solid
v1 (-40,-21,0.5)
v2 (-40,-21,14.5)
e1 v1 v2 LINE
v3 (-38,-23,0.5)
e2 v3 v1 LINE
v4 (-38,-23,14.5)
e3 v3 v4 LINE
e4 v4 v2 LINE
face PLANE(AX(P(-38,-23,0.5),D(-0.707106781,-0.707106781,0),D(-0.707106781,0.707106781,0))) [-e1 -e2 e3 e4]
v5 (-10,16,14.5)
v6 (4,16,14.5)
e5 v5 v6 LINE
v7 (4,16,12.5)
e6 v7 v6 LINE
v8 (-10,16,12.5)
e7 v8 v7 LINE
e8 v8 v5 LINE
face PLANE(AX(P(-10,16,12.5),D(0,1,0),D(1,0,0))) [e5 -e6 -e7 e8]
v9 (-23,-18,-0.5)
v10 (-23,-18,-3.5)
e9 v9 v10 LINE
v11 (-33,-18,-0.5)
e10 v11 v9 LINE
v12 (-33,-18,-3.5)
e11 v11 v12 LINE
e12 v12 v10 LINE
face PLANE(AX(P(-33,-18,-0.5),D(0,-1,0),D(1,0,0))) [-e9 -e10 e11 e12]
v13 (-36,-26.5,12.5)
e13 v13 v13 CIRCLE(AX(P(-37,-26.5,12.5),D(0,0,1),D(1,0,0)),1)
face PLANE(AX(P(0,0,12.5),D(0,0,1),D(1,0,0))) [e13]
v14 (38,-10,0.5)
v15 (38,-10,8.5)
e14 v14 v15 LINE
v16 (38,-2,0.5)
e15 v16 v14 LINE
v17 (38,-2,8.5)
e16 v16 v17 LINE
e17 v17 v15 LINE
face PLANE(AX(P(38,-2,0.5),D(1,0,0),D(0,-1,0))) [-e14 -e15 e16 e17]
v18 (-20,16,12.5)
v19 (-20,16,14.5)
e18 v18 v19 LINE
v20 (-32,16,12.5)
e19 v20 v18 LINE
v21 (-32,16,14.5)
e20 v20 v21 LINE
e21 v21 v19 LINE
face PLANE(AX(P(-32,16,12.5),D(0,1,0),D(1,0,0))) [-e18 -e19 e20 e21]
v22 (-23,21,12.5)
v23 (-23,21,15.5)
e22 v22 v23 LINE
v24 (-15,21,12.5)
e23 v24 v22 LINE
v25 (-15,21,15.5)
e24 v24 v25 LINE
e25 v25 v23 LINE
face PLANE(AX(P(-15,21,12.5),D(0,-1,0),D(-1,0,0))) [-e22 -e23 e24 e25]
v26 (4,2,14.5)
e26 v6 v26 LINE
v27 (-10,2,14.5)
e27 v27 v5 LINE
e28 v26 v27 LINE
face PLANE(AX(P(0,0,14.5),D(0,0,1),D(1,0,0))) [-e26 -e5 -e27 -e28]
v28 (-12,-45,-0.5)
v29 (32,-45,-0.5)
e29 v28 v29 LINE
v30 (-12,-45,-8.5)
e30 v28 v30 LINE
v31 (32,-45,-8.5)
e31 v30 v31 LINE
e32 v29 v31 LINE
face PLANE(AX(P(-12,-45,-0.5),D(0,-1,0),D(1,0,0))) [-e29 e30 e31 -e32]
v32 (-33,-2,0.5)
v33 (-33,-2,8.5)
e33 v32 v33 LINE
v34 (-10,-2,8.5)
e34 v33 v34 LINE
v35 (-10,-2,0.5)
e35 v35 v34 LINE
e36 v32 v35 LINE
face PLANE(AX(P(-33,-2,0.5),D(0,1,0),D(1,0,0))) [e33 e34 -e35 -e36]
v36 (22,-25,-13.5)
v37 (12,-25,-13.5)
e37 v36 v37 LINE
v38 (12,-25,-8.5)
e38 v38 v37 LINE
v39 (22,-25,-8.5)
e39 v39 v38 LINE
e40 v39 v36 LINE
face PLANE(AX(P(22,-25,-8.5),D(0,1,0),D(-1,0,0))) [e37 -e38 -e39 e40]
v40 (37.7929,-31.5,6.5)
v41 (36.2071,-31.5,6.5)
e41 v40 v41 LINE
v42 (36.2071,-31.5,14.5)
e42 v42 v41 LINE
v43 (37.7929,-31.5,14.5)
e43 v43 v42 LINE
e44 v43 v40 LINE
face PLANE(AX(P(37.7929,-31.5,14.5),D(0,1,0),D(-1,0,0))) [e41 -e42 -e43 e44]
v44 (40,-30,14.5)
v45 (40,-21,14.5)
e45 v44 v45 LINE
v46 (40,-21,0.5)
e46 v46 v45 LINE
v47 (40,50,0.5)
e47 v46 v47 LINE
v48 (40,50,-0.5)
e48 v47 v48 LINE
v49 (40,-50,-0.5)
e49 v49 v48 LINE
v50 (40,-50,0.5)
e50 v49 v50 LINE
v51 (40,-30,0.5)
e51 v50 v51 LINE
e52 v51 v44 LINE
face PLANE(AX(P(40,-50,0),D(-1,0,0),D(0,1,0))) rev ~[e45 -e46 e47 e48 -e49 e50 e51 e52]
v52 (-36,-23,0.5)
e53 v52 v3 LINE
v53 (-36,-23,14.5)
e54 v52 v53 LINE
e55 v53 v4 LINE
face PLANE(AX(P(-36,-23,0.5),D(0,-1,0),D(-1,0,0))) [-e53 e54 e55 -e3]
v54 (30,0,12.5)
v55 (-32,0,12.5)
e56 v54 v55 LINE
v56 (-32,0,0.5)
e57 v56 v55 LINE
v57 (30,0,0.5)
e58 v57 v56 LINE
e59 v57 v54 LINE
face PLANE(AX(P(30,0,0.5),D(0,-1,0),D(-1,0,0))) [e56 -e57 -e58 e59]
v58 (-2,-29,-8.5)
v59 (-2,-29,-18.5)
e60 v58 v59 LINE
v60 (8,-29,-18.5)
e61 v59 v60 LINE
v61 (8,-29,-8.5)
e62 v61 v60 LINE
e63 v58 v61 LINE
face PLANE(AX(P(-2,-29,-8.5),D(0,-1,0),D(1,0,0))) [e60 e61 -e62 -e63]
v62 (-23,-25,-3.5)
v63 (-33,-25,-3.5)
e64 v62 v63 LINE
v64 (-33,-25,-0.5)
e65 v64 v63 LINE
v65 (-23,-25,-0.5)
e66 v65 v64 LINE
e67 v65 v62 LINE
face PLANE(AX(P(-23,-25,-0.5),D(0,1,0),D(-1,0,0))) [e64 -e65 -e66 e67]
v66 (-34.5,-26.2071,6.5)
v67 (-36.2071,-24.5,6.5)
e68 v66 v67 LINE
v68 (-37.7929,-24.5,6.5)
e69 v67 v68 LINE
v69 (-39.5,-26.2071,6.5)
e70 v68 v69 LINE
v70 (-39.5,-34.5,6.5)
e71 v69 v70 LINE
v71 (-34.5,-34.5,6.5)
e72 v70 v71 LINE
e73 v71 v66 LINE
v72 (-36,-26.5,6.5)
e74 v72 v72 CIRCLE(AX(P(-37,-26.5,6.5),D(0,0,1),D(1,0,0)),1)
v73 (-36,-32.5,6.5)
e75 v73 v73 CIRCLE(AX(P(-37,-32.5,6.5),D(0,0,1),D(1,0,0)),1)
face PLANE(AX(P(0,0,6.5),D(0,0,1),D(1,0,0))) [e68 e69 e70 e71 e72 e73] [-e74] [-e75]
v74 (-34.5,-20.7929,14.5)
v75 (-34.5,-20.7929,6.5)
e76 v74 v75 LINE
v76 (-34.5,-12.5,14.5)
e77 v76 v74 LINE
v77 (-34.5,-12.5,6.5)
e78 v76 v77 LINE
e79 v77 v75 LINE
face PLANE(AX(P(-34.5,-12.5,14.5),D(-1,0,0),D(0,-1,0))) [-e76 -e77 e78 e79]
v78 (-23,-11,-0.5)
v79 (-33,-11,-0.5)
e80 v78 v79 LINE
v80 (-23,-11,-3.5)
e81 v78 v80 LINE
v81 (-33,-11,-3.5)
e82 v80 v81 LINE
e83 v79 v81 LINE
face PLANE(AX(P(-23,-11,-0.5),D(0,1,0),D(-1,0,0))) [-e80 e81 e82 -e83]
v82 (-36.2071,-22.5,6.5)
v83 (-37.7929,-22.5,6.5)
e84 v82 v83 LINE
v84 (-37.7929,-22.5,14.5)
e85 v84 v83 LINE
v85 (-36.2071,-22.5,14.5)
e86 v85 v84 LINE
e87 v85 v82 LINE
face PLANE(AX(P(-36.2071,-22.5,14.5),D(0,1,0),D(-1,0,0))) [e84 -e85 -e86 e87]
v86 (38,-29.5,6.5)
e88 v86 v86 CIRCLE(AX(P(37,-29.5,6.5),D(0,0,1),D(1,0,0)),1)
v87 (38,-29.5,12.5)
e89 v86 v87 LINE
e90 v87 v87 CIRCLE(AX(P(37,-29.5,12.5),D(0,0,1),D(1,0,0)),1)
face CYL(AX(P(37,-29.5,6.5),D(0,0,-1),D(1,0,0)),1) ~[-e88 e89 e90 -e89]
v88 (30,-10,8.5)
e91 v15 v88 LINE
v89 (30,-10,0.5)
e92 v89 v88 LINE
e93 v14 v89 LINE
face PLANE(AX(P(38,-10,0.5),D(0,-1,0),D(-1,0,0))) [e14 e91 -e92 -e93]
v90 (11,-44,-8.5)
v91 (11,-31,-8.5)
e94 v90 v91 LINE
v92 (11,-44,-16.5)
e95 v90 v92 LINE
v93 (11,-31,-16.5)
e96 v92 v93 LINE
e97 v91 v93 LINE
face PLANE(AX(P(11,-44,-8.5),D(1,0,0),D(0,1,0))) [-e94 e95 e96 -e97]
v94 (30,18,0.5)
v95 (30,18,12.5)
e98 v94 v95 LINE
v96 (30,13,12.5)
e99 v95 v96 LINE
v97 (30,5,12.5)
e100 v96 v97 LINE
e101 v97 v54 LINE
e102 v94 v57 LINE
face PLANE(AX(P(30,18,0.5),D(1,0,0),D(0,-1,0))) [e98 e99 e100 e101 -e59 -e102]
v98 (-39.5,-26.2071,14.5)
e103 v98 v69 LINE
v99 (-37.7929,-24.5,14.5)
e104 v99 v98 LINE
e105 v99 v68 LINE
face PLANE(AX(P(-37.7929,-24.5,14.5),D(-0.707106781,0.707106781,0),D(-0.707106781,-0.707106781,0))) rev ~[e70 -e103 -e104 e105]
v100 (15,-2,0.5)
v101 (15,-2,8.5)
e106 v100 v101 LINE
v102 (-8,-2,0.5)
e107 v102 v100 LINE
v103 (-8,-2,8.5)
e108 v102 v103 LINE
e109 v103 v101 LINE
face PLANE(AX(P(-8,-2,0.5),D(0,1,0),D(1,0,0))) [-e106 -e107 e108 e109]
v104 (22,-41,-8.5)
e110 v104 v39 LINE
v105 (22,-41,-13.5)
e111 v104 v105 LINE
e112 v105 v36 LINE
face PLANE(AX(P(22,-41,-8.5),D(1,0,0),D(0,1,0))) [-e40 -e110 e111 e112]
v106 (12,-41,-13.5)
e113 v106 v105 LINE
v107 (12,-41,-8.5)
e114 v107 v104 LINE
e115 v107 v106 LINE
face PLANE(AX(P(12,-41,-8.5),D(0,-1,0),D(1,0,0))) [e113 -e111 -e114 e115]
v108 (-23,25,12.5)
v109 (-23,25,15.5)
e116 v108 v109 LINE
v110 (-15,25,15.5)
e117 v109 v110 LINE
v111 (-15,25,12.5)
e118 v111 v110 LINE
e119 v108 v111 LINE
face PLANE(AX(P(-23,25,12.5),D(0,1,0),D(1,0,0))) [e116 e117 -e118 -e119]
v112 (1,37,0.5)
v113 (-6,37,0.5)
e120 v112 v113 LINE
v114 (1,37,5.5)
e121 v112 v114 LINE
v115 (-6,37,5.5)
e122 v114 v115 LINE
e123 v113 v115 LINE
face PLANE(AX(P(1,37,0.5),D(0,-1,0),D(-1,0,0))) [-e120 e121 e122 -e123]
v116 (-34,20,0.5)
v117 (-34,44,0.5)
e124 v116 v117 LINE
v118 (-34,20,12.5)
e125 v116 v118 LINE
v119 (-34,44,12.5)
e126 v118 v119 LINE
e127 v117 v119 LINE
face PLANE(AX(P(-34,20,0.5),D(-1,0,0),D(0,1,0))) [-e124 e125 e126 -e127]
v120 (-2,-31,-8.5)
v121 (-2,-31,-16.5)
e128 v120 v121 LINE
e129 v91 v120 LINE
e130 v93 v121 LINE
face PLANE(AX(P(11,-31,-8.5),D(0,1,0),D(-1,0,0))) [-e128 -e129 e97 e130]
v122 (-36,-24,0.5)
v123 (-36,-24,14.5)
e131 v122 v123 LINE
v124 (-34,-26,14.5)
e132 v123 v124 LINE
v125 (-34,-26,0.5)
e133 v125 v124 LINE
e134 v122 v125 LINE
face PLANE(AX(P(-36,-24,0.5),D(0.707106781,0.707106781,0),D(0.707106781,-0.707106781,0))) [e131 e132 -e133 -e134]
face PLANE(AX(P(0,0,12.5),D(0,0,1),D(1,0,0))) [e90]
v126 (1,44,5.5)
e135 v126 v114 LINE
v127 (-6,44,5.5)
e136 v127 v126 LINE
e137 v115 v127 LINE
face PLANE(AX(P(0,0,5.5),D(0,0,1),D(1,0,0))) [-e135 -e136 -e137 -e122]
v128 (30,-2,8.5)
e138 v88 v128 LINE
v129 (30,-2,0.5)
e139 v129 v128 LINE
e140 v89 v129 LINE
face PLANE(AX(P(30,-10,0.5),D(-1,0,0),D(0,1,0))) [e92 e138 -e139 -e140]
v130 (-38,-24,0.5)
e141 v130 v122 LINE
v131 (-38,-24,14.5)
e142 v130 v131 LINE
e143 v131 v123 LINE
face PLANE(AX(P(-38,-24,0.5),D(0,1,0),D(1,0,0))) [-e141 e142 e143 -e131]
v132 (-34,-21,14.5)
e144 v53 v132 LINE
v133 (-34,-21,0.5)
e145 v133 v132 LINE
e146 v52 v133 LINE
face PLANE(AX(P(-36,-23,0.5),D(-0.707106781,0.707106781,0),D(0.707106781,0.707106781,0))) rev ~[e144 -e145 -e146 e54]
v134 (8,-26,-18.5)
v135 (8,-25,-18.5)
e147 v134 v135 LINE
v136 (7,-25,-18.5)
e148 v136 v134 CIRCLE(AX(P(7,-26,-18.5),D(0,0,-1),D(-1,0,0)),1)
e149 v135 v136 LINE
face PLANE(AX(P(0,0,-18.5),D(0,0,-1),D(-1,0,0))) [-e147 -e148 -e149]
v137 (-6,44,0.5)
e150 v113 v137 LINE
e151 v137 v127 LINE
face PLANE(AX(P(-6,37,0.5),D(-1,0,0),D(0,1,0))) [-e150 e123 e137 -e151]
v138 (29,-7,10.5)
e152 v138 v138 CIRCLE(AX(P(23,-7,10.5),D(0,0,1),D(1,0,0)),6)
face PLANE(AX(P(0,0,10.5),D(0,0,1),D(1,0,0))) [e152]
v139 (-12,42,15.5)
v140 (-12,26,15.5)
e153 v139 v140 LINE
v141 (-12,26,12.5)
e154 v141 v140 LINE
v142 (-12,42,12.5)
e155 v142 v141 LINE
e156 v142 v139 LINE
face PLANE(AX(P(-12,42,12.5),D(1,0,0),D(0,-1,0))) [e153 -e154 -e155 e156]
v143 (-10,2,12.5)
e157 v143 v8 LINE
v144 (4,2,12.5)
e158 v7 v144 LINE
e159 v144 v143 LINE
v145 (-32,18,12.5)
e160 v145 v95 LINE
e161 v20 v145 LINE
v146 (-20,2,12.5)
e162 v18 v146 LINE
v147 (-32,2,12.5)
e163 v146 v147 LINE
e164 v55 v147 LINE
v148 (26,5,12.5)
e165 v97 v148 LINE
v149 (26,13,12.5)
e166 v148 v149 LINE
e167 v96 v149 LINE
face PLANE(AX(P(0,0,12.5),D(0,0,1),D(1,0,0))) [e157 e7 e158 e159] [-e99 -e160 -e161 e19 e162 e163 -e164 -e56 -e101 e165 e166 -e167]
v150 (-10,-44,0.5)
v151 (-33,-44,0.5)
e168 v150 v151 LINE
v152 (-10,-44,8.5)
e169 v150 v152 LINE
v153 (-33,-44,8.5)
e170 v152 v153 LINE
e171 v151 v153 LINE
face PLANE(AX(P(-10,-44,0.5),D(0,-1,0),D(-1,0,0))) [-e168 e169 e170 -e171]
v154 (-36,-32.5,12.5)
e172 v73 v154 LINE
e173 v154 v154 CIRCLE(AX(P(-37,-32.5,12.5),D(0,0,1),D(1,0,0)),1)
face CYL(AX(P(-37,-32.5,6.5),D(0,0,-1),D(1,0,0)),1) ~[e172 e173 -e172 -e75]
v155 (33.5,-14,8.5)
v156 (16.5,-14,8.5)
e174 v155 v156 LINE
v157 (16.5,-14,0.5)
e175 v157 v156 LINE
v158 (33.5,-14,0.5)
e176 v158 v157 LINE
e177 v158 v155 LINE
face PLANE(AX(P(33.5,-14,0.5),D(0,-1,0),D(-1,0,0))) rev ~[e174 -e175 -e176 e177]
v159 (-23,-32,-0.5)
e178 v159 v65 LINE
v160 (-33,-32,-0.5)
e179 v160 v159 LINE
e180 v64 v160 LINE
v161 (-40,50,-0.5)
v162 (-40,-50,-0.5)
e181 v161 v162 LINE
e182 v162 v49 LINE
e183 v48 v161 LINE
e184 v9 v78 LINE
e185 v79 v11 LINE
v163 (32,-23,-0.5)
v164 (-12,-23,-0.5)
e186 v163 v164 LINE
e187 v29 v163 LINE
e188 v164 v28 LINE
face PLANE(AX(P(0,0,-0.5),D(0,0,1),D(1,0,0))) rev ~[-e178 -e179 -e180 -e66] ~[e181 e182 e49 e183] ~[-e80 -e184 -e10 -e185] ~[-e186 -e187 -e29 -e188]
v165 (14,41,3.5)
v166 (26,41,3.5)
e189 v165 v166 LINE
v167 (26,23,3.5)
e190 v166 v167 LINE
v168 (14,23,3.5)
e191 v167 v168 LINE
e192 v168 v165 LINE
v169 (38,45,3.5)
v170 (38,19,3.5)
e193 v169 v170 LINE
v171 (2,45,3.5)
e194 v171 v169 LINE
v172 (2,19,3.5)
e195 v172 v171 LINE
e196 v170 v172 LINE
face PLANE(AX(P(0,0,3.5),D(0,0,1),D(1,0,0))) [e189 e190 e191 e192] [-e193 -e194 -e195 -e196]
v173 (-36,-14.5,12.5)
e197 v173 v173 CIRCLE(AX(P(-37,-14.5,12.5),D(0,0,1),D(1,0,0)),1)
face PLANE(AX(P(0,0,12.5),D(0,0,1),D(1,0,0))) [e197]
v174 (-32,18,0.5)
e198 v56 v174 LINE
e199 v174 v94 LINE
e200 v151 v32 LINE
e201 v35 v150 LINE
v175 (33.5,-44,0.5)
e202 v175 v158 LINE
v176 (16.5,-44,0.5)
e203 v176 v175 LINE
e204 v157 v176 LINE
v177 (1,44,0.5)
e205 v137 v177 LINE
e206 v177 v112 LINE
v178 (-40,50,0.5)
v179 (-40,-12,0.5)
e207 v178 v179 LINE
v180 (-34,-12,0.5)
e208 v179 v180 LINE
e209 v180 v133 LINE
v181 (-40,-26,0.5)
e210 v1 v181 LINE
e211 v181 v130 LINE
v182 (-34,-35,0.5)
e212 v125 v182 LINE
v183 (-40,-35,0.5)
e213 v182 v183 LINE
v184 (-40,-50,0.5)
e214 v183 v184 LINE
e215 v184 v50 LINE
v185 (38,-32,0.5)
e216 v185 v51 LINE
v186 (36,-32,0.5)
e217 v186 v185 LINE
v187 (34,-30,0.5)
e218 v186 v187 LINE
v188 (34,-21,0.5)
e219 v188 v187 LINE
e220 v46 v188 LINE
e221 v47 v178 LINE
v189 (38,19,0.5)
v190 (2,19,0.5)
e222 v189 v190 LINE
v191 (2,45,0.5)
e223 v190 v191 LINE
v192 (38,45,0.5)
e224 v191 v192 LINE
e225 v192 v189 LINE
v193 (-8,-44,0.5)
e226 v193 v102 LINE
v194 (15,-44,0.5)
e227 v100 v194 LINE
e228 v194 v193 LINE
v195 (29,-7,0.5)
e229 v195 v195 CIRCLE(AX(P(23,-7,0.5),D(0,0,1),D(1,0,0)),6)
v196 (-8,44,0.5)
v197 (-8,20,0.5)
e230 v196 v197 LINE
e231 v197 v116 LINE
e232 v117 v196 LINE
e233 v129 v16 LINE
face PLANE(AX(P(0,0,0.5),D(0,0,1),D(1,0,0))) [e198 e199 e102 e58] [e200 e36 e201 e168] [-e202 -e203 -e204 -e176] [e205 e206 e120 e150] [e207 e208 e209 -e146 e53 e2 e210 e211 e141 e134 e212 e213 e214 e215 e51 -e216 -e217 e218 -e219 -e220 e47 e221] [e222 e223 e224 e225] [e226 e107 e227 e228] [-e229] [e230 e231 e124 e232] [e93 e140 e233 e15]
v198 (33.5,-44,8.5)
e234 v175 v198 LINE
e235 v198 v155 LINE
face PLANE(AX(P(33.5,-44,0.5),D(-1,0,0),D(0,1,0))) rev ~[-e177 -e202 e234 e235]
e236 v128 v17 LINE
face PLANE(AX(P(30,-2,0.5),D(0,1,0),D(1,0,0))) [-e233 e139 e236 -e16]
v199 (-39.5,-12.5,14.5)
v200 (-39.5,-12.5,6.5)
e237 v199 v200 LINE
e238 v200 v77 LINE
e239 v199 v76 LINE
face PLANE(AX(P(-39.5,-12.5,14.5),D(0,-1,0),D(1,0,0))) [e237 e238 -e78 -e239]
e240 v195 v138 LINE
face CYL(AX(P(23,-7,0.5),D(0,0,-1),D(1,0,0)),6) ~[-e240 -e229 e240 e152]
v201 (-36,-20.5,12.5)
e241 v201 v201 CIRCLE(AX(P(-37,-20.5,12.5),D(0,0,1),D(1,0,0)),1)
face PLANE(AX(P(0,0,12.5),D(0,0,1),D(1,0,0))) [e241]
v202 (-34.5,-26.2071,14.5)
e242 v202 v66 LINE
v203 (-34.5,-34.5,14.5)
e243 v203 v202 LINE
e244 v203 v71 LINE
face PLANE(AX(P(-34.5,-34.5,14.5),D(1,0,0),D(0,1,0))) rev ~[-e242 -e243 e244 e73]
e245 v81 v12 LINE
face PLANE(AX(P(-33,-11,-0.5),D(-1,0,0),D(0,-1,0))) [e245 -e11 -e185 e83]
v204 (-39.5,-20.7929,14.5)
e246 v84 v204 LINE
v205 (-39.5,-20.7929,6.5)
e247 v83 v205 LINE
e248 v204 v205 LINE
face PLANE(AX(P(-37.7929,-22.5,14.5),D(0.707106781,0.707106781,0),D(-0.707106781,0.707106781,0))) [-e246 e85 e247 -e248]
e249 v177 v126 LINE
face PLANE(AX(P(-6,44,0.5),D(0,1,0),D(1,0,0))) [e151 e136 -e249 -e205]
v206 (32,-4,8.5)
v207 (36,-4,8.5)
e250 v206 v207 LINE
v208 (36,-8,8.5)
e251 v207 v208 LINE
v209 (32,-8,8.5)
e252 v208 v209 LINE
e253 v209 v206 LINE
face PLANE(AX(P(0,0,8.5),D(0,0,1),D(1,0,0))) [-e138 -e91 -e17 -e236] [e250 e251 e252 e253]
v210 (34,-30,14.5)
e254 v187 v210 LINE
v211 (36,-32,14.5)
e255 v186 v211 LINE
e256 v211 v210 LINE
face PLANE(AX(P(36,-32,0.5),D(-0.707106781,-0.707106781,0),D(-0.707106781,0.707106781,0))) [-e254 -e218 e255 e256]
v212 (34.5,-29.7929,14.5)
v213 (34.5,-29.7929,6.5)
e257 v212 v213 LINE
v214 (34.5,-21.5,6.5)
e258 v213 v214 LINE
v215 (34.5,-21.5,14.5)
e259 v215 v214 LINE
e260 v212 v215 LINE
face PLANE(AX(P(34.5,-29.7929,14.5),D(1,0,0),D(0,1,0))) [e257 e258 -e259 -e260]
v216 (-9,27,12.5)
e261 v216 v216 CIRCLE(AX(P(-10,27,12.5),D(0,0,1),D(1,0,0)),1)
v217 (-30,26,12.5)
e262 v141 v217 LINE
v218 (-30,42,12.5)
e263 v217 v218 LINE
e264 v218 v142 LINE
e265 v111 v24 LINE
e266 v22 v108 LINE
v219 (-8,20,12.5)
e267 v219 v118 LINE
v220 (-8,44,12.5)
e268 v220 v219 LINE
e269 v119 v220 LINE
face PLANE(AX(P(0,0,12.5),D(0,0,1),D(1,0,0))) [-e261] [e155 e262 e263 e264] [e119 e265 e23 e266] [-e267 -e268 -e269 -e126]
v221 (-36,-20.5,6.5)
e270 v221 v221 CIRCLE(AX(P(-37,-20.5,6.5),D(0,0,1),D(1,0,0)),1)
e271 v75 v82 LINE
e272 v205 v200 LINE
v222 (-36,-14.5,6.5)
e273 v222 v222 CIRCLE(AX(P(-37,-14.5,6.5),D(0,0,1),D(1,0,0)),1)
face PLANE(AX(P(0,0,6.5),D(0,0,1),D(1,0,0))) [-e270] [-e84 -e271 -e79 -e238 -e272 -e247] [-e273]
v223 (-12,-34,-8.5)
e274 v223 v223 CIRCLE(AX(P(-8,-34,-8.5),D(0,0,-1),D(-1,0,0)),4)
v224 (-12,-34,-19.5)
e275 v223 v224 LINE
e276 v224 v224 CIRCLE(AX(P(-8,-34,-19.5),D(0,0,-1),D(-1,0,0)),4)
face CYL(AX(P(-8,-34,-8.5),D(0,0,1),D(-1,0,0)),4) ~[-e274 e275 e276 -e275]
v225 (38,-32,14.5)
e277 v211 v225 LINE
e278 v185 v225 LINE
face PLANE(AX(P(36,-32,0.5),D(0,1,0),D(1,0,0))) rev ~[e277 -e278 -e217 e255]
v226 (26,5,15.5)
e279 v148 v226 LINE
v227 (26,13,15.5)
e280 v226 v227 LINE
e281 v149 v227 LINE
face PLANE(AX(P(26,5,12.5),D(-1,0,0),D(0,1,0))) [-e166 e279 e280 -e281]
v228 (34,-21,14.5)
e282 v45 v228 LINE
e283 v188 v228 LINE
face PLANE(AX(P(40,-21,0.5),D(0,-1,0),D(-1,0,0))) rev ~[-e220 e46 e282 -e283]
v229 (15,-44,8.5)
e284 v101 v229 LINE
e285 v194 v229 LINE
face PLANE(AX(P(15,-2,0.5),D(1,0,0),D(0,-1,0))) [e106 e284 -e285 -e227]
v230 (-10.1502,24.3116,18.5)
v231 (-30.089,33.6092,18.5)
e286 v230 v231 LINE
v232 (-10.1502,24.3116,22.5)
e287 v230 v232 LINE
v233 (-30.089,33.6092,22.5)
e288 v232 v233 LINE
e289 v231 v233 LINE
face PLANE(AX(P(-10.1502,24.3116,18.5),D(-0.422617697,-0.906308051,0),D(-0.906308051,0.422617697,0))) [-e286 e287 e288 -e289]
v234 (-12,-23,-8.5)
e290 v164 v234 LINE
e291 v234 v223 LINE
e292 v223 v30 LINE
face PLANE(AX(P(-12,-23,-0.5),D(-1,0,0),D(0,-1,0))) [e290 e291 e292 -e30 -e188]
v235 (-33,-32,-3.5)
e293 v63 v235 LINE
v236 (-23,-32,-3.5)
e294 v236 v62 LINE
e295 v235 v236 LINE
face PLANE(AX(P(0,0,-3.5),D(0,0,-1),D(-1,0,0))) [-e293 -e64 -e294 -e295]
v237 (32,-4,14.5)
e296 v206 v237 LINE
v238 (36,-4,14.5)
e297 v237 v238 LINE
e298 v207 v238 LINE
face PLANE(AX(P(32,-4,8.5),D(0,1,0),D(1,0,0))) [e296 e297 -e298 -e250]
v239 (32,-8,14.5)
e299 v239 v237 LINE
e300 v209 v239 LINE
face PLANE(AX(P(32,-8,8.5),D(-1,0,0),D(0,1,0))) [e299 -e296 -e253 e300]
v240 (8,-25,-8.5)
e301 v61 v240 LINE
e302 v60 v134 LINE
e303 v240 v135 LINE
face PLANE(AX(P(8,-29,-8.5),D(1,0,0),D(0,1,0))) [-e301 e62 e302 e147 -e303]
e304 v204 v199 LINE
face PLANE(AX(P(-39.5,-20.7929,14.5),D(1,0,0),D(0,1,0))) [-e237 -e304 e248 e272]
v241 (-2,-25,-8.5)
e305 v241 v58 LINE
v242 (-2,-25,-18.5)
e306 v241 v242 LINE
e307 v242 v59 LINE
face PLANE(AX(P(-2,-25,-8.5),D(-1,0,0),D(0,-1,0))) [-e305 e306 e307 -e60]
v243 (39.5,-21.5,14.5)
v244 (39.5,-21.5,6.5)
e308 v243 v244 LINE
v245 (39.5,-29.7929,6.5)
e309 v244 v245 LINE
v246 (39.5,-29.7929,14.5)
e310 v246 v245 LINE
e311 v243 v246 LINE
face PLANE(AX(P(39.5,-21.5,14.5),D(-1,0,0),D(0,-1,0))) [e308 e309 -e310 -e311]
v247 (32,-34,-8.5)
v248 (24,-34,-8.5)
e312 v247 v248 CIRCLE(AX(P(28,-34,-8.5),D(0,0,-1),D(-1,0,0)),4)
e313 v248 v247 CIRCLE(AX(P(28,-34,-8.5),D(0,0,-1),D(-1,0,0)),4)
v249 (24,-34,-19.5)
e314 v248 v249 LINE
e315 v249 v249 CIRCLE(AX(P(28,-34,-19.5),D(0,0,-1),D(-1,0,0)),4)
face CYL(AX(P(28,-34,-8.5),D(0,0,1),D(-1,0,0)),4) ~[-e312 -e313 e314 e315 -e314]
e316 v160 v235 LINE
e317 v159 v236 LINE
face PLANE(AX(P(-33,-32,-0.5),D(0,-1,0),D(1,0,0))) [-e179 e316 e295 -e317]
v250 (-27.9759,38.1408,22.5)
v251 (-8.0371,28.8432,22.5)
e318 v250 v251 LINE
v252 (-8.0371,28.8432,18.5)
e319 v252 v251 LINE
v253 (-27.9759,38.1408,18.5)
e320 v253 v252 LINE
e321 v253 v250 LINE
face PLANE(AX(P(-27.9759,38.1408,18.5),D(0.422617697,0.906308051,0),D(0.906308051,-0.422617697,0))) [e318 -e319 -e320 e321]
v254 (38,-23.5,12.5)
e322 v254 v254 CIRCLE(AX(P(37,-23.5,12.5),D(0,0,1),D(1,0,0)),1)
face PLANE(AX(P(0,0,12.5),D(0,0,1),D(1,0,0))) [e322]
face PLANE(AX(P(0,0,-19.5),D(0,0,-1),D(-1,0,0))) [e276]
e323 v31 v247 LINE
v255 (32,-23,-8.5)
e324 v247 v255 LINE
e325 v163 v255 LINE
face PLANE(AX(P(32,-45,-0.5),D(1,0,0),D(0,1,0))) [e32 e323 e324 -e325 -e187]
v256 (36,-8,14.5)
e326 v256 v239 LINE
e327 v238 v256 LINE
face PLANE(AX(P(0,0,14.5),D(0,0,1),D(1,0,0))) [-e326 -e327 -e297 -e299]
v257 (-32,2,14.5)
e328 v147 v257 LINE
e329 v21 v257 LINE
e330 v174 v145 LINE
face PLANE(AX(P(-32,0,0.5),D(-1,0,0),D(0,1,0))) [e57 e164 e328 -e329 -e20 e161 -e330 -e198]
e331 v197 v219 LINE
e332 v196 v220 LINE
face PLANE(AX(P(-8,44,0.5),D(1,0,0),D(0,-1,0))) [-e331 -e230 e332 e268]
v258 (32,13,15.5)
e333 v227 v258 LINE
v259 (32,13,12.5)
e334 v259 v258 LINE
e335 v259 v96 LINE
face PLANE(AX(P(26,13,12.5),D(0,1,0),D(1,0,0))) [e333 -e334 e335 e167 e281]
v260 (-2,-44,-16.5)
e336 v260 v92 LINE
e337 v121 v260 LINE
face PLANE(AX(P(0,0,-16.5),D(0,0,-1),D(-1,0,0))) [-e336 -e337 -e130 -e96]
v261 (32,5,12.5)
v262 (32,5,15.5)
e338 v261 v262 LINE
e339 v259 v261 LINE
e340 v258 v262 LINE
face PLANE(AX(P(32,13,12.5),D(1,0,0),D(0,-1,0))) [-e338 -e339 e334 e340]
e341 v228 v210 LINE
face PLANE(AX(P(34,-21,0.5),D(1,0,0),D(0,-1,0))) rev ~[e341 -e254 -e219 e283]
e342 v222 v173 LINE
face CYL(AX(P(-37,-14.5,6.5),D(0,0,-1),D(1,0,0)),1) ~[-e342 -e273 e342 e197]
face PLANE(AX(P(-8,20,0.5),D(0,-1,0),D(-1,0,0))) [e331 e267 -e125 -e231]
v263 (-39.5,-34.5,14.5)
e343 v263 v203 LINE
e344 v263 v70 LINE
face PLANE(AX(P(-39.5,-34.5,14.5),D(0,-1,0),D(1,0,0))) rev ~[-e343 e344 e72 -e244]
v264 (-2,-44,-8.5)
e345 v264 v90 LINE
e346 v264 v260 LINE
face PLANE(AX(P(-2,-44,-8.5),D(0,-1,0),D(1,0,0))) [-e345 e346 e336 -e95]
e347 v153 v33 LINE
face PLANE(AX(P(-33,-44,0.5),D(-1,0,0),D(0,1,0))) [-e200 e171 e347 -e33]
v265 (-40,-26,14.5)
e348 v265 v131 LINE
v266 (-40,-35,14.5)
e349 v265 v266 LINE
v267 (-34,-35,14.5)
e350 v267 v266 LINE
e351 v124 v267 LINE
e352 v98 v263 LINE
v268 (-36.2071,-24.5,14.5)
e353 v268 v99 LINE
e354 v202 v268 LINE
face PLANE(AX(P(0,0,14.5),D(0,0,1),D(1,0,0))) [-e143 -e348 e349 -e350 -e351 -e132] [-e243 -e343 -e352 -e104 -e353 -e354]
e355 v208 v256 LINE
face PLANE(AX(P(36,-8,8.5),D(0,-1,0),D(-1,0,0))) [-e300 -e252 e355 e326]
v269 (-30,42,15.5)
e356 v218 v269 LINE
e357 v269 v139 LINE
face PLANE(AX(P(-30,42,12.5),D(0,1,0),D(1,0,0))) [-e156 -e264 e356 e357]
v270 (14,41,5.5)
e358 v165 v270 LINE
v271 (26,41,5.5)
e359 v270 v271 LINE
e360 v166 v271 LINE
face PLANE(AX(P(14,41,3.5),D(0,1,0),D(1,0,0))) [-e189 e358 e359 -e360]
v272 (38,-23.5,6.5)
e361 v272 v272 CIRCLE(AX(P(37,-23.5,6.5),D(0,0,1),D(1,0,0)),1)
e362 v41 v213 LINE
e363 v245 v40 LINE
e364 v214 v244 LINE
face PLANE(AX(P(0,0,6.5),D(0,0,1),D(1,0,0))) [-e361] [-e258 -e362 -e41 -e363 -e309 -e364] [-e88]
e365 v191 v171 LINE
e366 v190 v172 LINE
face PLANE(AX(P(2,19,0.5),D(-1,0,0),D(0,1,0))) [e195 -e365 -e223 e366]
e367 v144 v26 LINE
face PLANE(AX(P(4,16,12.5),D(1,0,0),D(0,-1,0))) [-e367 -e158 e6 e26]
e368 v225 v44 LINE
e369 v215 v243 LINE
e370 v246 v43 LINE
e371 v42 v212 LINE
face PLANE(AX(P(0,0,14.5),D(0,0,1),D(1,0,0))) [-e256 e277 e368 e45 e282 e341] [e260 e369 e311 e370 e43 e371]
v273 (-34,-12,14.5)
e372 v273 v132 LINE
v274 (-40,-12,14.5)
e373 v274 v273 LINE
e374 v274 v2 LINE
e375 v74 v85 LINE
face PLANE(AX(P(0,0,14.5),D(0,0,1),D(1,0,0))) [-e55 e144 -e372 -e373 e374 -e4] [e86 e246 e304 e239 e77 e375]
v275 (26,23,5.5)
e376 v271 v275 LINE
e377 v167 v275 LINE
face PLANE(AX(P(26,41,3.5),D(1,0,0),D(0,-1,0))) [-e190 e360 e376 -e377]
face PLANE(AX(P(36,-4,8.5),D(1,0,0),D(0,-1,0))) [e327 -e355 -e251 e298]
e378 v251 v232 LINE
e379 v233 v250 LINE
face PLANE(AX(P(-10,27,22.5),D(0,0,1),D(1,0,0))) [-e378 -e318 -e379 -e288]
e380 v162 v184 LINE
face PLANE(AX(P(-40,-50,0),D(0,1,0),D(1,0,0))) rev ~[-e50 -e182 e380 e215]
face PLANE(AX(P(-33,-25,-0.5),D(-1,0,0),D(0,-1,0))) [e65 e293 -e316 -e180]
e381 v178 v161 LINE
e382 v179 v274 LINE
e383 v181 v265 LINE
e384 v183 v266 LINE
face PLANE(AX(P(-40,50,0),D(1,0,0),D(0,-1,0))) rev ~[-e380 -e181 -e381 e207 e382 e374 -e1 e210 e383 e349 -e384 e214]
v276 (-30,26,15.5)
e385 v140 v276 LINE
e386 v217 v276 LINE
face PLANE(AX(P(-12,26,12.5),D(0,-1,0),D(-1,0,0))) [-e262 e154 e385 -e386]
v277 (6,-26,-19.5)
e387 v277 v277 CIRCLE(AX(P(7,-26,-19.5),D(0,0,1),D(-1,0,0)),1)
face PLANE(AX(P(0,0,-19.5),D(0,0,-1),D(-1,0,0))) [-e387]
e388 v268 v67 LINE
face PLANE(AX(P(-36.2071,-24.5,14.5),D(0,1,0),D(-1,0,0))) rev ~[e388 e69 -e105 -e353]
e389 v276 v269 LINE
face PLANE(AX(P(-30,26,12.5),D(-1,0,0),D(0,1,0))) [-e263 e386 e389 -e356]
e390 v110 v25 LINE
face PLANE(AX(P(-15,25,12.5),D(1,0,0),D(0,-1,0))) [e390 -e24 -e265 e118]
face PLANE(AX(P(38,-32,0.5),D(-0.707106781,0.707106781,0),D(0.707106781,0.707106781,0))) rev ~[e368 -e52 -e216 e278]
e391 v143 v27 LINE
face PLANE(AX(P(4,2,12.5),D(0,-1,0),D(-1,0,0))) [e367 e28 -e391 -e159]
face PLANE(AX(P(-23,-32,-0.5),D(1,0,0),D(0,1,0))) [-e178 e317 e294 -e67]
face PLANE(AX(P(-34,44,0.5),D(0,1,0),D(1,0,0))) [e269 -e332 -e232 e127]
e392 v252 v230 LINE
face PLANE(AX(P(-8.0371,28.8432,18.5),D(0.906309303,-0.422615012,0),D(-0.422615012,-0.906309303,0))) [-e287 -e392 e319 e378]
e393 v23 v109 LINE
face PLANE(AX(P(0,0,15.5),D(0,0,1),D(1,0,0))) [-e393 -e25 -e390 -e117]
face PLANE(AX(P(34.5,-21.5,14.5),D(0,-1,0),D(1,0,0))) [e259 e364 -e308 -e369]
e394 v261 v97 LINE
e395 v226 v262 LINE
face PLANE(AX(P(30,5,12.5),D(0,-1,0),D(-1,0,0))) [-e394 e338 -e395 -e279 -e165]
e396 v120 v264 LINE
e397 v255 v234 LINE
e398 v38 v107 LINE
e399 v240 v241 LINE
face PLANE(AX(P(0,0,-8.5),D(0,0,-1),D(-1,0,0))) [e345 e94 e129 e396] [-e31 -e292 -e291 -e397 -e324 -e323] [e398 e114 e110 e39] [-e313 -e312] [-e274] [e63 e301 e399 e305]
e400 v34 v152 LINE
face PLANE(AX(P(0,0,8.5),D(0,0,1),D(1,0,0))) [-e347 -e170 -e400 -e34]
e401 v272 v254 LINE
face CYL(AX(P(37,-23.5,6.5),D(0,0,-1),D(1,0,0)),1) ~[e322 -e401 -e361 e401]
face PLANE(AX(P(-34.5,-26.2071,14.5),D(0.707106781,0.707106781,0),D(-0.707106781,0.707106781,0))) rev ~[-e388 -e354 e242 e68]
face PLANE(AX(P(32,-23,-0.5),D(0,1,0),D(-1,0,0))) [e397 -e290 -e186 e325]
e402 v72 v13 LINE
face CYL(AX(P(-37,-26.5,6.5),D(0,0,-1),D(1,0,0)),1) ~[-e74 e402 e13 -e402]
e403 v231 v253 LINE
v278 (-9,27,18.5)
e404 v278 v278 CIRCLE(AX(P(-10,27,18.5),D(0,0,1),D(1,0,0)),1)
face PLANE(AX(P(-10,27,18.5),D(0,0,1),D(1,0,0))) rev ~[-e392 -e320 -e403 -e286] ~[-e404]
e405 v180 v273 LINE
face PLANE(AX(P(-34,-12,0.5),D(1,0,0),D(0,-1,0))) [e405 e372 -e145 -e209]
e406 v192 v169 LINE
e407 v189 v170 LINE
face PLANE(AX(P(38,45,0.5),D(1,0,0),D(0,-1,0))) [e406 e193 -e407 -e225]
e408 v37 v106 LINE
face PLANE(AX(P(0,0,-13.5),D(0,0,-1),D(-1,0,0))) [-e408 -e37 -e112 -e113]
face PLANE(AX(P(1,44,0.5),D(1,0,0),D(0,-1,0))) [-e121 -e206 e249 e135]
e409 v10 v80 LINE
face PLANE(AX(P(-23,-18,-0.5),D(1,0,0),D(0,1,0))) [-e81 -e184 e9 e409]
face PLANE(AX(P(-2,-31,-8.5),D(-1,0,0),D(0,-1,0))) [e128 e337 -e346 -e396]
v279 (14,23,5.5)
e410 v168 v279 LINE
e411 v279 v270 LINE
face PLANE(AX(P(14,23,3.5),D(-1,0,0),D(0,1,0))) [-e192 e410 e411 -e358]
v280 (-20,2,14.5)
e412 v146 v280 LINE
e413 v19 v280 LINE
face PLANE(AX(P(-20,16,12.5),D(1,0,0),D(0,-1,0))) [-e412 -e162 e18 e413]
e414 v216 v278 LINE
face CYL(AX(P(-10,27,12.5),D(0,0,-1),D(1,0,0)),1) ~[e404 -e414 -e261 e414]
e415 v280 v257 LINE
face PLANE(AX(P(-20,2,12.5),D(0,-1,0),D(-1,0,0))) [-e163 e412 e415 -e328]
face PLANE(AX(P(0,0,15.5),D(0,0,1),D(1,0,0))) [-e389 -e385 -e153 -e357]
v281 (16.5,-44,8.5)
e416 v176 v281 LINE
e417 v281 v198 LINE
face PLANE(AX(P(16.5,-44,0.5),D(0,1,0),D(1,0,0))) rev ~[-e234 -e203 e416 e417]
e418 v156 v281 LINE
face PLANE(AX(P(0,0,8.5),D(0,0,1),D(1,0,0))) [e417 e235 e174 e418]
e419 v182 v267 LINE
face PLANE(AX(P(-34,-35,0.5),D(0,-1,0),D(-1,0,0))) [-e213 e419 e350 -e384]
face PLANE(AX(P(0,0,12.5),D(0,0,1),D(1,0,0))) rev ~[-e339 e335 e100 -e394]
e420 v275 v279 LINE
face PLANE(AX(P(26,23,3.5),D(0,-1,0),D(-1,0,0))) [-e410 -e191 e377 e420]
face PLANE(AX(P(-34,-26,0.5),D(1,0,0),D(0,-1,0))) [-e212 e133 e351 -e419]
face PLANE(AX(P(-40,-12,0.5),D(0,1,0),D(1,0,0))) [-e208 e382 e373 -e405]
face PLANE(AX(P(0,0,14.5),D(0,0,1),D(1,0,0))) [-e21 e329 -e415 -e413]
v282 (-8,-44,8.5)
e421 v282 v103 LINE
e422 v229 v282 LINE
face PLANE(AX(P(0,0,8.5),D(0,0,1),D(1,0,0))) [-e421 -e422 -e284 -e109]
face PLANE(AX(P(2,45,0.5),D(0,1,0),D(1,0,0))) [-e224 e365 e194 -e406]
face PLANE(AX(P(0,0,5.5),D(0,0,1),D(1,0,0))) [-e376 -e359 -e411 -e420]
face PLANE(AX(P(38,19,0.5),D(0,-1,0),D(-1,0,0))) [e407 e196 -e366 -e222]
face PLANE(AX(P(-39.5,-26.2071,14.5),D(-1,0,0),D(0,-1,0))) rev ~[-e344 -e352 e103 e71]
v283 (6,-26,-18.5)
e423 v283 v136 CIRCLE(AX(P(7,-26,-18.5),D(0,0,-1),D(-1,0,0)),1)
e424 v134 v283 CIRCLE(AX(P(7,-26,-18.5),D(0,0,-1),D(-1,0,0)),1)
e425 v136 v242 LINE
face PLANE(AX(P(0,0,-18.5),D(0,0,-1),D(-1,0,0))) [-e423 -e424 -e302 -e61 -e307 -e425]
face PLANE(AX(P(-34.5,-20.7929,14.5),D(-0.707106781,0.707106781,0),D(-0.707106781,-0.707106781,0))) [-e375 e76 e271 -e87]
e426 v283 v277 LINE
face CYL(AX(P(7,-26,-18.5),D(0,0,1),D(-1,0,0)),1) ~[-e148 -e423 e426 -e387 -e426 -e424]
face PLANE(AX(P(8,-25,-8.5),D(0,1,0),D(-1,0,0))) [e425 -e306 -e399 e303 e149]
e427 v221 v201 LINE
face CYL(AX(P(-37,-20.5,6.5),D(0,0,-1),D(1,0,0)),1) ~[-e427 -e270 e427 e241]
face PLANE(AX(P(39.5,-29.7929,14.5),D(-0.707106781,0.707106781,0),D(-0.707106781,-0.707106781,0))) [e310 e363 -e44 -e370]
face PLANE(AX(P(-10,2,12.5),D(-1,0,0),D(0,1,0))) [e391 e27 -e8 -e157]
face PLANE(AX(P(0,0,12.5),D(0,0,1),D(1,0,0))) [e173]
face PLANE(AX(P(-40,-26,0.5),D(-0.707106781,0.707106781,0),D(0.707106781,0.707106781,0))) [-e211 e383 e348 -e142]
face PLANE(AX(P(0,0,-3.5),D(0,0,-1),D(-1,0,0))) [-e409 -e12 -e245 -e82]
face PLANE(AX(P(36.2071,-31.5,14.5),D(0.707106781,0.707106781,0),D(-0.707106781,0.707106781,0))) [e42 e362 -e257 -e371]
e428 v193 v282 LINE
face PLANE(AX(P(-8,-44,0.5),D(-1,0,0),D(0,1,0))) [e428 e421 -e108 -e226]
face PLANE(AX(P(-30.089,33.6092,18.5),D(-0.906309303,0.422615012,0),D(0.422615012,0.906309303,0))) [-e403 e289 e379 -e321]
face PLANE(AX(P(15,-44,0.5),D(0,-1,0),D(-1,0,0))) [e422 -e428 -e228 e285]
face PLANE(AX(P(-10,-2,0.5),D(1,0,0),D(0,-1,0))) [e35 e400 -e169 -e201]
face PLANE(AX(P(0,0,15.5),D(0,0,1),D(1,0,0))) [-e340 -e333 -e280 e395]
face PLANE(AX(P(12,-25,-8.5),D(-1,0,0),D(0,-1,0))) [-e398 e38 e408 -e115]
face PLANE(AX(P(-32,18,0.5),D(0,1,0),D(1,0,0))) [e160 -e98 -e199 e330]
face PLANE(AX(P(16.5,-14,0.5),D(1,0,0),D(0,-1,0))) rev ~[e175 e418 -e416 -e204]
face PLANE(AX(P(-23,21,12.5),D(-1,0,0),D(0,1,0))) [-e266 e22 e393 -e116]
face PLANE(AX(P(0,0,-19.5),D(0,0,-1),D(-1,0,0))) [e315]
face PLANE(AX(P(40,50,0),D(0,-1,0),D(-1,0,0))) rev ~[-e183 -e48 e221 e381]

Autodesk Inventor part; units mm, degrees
ref_plane "YZ Plane" through (0, 0, 0) normal (1, 0, 0) x (0, 1, 0)
ref_plane "XZ Plane" through (0, 0, 0) normal (0, 1, 0) x (-1, 0, 0)
ref_plane "XY Plane" through (0, 0, 0) normal (0, 0, 1) x (1, 0, 0)
sketch "Эскиз1" plane through (0, 0, 0) normal (0, 0, 1) x (1, 0, 0)
  line L0 (-40, -50) -> (40, -50)
  line L1 (40, -50) -> (40, 50)
  line L2 (40, 50) -> (-40, 50)
  line L3 (-40, 50) -> (-40, -50)
  line L4 (-40, -50) -> (40, 50) construction
  line L5 (40, -50) -> (-40, 50) construction
  point P0 (0, 0)
  dimension "d0" = 100
  dimension "d1" = 80
extrude "Выдавливание1" add sketch "Эскиз1" along normal blind 0.5 and the other way blind 0.5
sketch "Эскиз2" plane through (0, 0, 0.5) normal (0, 0, 1) x (1, 0, 0)
  line L0 (40, -21) -> (34, -21)
  line L1 (34, -21) -> (34, -32)
  line L2 (34, -32) -> (40, -32)
  line L3 (40, -32) -> (40, -21)
  line L4 (-40, 50) -> (-40, -50) projected
  line L5 (-40, -12) -> (-34, -12)
  line L6 (-34, -12) -> (-34, -23)
  line L7 (-34, -23) -> (-40, -23)
  line L8 (-40, -23) -> (-40, -12)
  line L9 (-40, -24) -> (-34, -24)
  line L10 (-34, -24) -> (-34, -35)
  line L11 (-34, -35) -> (-40, -35)
  line L12 (-40, -35) -> (-40, -24)
  line L13 (40, -50) -> (40, 50) projected
  line L14 (-40, -50) -> (40, -50) projected
  line L15 (-40, -26) -> (-38, -24)
  line L16 (-36, -24) -> (-34, -26)
  line L17 (-36, -23) -> (-34, -21)
  line L18 (-38, -23) -> (-40, -21)
  line L19 (38, -32) -> (40, -30)
  line L20 (36, -32) -> (34, -30)
  point P0 (0, 0)
  dimension "d7" = 11
  dimension "d8" = 6
  dimension "d9" = 15
  dimension "d10" = 1
  dimension "d11" = 18
  dimension "d12" = 45
  dimension "d13" = 2
  dimension "d14" = 2
  dimension "d15" = 45
extrude "Выдавливание2" add sketch "Эскиз2" along normal blind 14 contours L3 L19 L2 L20 L1 L0 | L4 L15 L9 L16 L10 L11 | L4 L5 L6 L17 L7 L18
sketch "Эскиз3" plane through (0, 0, 14.5) normal (0, 0, 1) x (1, 0, 0)
  line L0 (-38, -23) -> (-36, -23) projected
  line L1 (-36, -23) -> (-34, -21) projected
  line L2 (-34, -21) -> (-34, -12) projected
  line L3 (-34, -12) -> (-40, -12) projected
  line L4 (-40, -12) -> (-40, -21) projected
  line L5 (-40, -21) -> (-38, -23) projected
  line L6 (-36, -24) -> (-38, -24) projected
  line L7 (-38, -24) -> (-40, -26) projected
  line L8 (-40, -26) -> (-40, -35) projected
  line L9 (-40, -35) -> (-34, -35) projected
  line L10 (-34, -35) -> (-34, -26) projected
  line L11 (-34, -26) -> (-36, -24) projected
  line L12 (36, -32) -> (38, -32) projected
  line L13 (38, -32) -> (40, -30) projected
  line L14 (40, -30) -> (40, -21) projected
  line L15 (40, -21) -> (34, -21) projected
  line L16 (34, -21) -> (34, -30) projected
  line L17 (34, -30) -> (36, -32) projected
  line L18 (-39.5, -12.5) -> (-34.5, -12.5)
  line L19 (-34.5, -12.5) -> (-34.5, -20.7929)
  line L20 (-34.5, -20.7929) -> (-36.2071, -22.5)
  line L21 (-36.2071, -22.5) -> (-37.7929, -22.5)
  line L22 (-37.7929, -22.5) -> (-39.5, -20.7929)
  line L23 (-39.5, -20.7929) -> (-39.5, -12.5)
  line L24 (-40, -50) -> (-40, 50) projected
  line L25 (-39.5, -34.5) -> (-34.5, -34.5)
  line L26 (-34.5, -34.5) -> (-34.5, -26.2071)
  line L27 (-34.5, -26.2071) -> (-36.2071, -24.5)
  line L28 (-36.2071, -24.5) -> (-37.7929, -24.5)
  line L29 (-37.7929, -24.5) -> (-39.5, -26.2071)
  line L30 (-39.5, -26.2071) -> (-39.5, -34.5)
  line L31 (34.5, -21.5) -> (39.5, -21.5)
  line L32 (39.5, -21.5) -> (39.5, -29.7929)
  line L33 (39.5, -29.7929) -> (37.7929, -31.5)
  line L34 (37.7929, -31.5) -> (36.2071, -31.5)
  line L35 (36.2071, -31.5) -> (34.5, -29.7929)
  line L36 (34.5, -29.7929) -> (34.5, -21.5)
  line L37 (34, -30) -> (36, -32) projected
  line L38 (38, -32) -> (40, -30) projected
  point P0 (0, 0)
  dimension "d18" = 0.5
  dimension "d19" = 0.5
  dimension "d20" = 0.5
  dimension "d23" = 0.5
  dimension "d24" = 0.5
  dimension "d26" = 0.5
  dimension "d27" = 0.5
  dimension "d28" = 0.5
  dimension "d29" = 0.5
  dimension "d30" = 0.5
  dimension "d32" = 0.5
  dimension "d33" = 0.5
  dimension "d34" = 0.5
  dimension "d35" = 0.5
  dimension "d36" = 0.5
  dimension "d37" = 0.5
  dimension "d38" = 0.5
  dimension "d39" = 0.5
extrude "Выдавливание3" cut sketch "Эскиз3" against normal blind 8 contours L18 L19 L20 L21 L22 L23 | L30 L29 L28 L27 L26 L25 | L31 L32 L33 L34 L35 L36
sketch "Эскиз4" plane through (0, 0, 6.5) normal (0, 0, 1) x (1, 0, 0)
  line L0 (-37.7929, -22.5) -> (-39.5, -20.7929) projected
  line L1 (-36.2071, -22.5) -> (-37.7929, -22.5) projected
  line L2 (-34.5, -20.7929) -> (-36.2071, -22.5) projected
  line L3 (-34.5, -12.5) -> (-34.5, -20.7929) projected
  line L4 (-39.5, -12.5) -> (-34.5, -12.5) projected
  line L5 (-39.5, -20.7929) -> (-39.5, -12.5) projected
  line L6 (-34.5, -26.2071) -> (-34.5, -34.5) projected
  line L7 (-36.2071, -24.5) -> (-34.5, -26.2071) projected
  line L8 (-37.7929, -24.5) -> (-36.2071, -24.5) projected
  line L9 (-39.5, -26.2071) -> (-37.7929, -24.5) projected
  line L10 (-39.5, -34.5) -> (-39.5, -26.2071) projected
  line L11 (-34.5, -34.5) -> (-39.5, -34.5) projected
  line L12 (36.2071, -31.5) -> (34.5, -29.7929) projected
  line L13 (37.7929, -31.5) -> (36.2071, -31.5) projected
  line L14 (39.5, -29.7929) -> (37.7929, -31.5) projected
  line L15 (39.5, -21.5) -> (39.5, -29.7929) projected
  line L16 (34.5, -21.5) -> (39.5, -21.5) projected
  line L17 (34.5, -29.7929) -> (34.5, -21.5) projected
  circle A0 centre (-37, -20.5) radius 1
  circle A1 centre (-37, -14.5) radius 1
  line L18 (-39.5, -12.5) -> (-34.5, -12.5) construction
  line L19 (-37, -12.5) -> (-37, -34.5) construction
  line L20 (-34.5, -34.5) -> (-39.5, -34.5) construction
  circle A2 centre (-37, -26.5) radius 1
  circle A3 centre (-37, -32.5) radius 1
  line L21 (34.5, -21.5) -> (39.5, -21.5) construction
  line L22 (37, -21.5) -> (37, -31.5) construction
  circle A4 centre (37, -23.5) radius 1
  circle A5 centre (37, -29.5) radius 1
  point P0 (0, 0)
  dimension "d42" = 6
  dimension "d43" = 2
  dimension "d44" = 2
  dimension "d45" = 6
  dimension "d46" = 2
  dimension "d47" = 2
  dimension "d48" = 2
  dimension "d49" = 2
  dimension "d50" = 6
  dimension "d51" = 2
extrude "Выдавливание4" add sketch "Эскиз4" along normal blind 6 contours A0 | A1 | A2 | A3 | A4 | A5
sketch "Эскиз5" plane through (0, 0, 0.5) normal (0, 0, 1) x (1, 0, 0)
  line L0 (-33, -2) -> (-10, -2)
  line L1 (-10, -2) -> (-10, -44)
  line L2 (-10, -44) -> (-33, -44)
  line L3 (-33, -44) -> (-33, -2)
  line L4 (-8, -2) -> (15, -2)
  line L5 (15, -2) -> (15, -44)
  line L6 (15, -44) -> (-8, -44)
  line L7 (-8, -44) -> (-8, -2)
  line L8 (-40, -50) -> (40, -50) projected
  line L9 (-40, -35) -> (-40, -50) projected
  line L10 (16.5, -44) -> (33.5, -44)
  line L11 (33.5, -44) -> (33.5, -14)
  line L12 (33.5, -14) -> (16.5, -14)
  line L13 (16.5, -14) -> (16.5, -44)
  point P0 (0, 0)
  dimension "d54" = 42
  dimension "d55" = 23
  dimension "d56" = 48
  dimension "d59" = 55
  dimension "d60" = 48
  dimension "d63" = 1.5
  dimension "d64" = 17
  dimension "d65" = 36
extrude "Выдавливание5" add sketch "Эскиз5" along normal blind 8
sketch "Эскиз6" plane through (0, 0, -0.5) normal (0, 0, -1) x (-1, 0, 0)
  line L0 (-32, -23) -> (12, -23)
  line L1 (12, -23) -> (12, -45)
  line L2 (12, -45) -> (-32, -45)
  line L3 (-32, -45) -> (-32, -23)
  line L4 (-40, -50) -> (40, -50) projected
  line L5 (-40, 50) -> (-40, -50) projected
  point P0 (0, 0)
  dimension "d66" = 44
  dimension "d67" = 22
  dimension "d68" = 5
  dimension "d69" = 8
extrude "Выдавливание6" add sketch "Эскиз6" along normal blind 8
sketch "Эскиз7" plane through (0, 0, -0.5) normal (0, 0, -1) x (-1, 0, 0)
  line L0 (23, -25) -> (33, -25)
  line L1 (33, -25) -> (33, -32)
  line L2 (33, -32) -> (23, -32)
  line L3 (23, -32) -> (23, -25)
  line L4 (23, -11) -> (33, -11)
  line L5 (33, -11) -> (33, -18)
  line L6 (33, -18) -> (23, -18)
  line L7 (23, -18) -> (23, -11)
  line L8 (-40, -50) -> (40, -50) projected
  line L9 (40, -50) -> (40, 50) projected
  point P0 (0, 0)
  point P1 (33, -14.5)
  dimension "d72" = 7
  dimension "d73" = 10
  dimension "d74" = 7
  dimension "d75" = 18
  dimension "d76" = 7
extrude "Выдавливание7" add sketch "Эскиз7" along normal blind 3
sketch "Эскиз8" plane through (0, 0, -8.5) normal (0, 0, -1) x (-1, 0, 0)
  circle A0 centre (-28, -34) radius 4
  circle A1 centre (8, -34) radius 4
  line L0 (-32, -45) -> (-32, -23) construction
  line L1 (-32, -34) -> (12, -34) construction
  line L2 (12, -23) -> (12, -45) construction
  line L3 (12, -45) -> (12, -23) construction
  line L4 (-32, -23) -> (-32, -45) construction
  point P0 (0, 0)
  dimension "d79" = 8
extrude "Выдавливание8" add sketch "Эскиз8" along normal blind 11
sketch "Эскиз9" plane through (0, 0, -8.5) normal (0, 0, -1) x (-1, 0, 0)
  line L0 (2, -44) -> (-11, -44)
  line L1 (-11, -44) -> (-11, -31)
  line L2 (-11, -31) -> (2, -31)
  line L3 (2, -31) -> (2, -44)
  line L4 (12, -34) -> (12, -23) projected
  line L5 (-32, -45) -> (12, -45) projected
  point P0 (0, 0)
  dimension "d82" = 13
  dimension "d83" = 10
  dimension "d84" = 1
extrude "Выдавливание9" add sketch "Эскиз9" along normal blind 8
sketch "Эскиз10" plane through (0, 0, -8.5) normal (0, 0, -1) x (-1, 0, 0)
  line L0 (-8, -25) -> (2, -25)
  line L1 (2, -25) -> (2, -29)
  line L2 (2, -29) -> (-8, -29)
  line L3 (-8, -29) -> (-8, -25)
  line L4 (12, -23) -> (-32, -23) projected
  line L5 (12, -34) -> (12, -23) projected
  point P0 (0, 0)
  dimension "d87" = 10
  dimension "d88" = 4
  dimension "d89" = 2
  dimension "d90" = 10
extrude "Выдавливание10" add sketch "Эскиз10" along normal blind 10
sketch "Эскиз11" plane through (0, 0, -18.5) normal (0, 0, -1) x (-1, 0, 0)
  circle A0 centre (-7, -26) radius 1
  line L0 (-8, -29) -> (2, -29) projected
  line L1 (2, -29) -> (2, -25) projected
  line L2 (2, -25) -> (-8, -25) projected
  line L3 (-8, -25) -> (-8, -29) projected
  line L4 (2, -25) -> (-8, -25) projected
  line L5 (-8, -25) -> (-8, -29) projected
  point P0 (0, 0)
  dimension "d93" = 2
extrude "Выдавливание11" add sketch "Эскиз11" along normal blind 1 contours A0
sketch "Эскиз12" plane through (0, 0, -8.5) normal (0, 0, -1) x (-1, 0, 0)
  line L0 (-22, -25) -> (-12, -25)
  line L1 (-12, -25) -> (-12, -41)
  line L2 (-12, -41) -> (-22, -41)
  line L3 (-22, -41) -> (-22, -25)
  line L4 (12, -23) -> (-32, -23) projected
  line L5 (-32, -23) -> (-32, -34) projected
  point P0 (0, 0)
  dimension "d96" = 10
  dimension "d97" = 16
  dimension "d98" = 2
  dimension "d99" = 10
extrude "Выдавливание12" add sketch "Эскиз12" along normal blind 5
sketch "Эскиз13" plane through (0, 0, 0.5) normal (0, 0, 1) x (1, 0, 0)
  point P0 (0, 0)
sketch "Эскиз14" plane through (0, 0, 0.5) normal (0, 0, 1) x (1, 0, 0)
  circle A0 centre (23, -7) radius 6
  line L0 (40, -21) -> (40, 50) projected
  line L1 (-40, -50) -> (40, -50) projected
  point P0 (0, 0)
  dimension "d102" = 12
  dimension "d103" = 17
  dimension "d104" = 43
extrude "Выдавливание13" add sketch "Эскиз14" along normal blind 10
sketch "Эскиз15" plane through (0, 0, 0.5) normal (0, 0, 1) x (1, 0, 0)
  line L0 (30, -2) -> (38, -2)
  line L1 (38, -2) -> (38, -10)
  line L2 (38, -10) -> (30, -10)
  line L3 (30, -10) -> (30, -2)
  line L4 (-40, -50) -> (40, -50) projected
  line L5 (40, -21) -> (40, 50) projected
  point P0 (0, 0)
  dimension "d107" = 8
  dimension "d108" = 48
  dimension "d109" = 2
extrude "Выдавливание14" add sketch "Эскиз15" along normal blind 8
sketch "Эскиз16" plane through (0, 0, 8.5) normal (0, 0, 1) x (1, 0, 0)
  line L0 (32, -4) -> (36, -4)
  line L1 (36, -4) -> (36, -8)
  line L2 (36, -8) -> (32, -8)
  line L3 (32, -8) -> (32, -4)
  line L4 (30, -10) -> (38, -10) projected
  line L5 (38, -10) -> (38, -2) projected
  line L6 (38, -2) -> (30, -2) projected
  line L7 (30, -2) -> (30, -10) projected
  point P0 (0, 0)
  dimension "d115" = 4
  dimension "d116" = 2
  dimension "d117" = 2
extrude "Выдавливание15" add sketch "Эскиз16" along normal blind 6 contours L0 L1 L2 L3
sketch "Эскиз17" plane through (0, 0, 0.5) normal (0, 0, 1) x (1, 0, 0)
  line L0 (-32, 18) -> (30, 18)
  line L1 (30, 18) -> (30, 0)
  line L2 (30, 0) -> (-32, 0)
  line L3 (-32, 0) -> (-32, 18)
  line L4 (40, -21) -> (40, 50) projected
  line L5 (40, 50) -> (-40, 50) projected
  point P0 (0, 0)
  dimension "d120" = 18
  dimension "d121" = 62
  dimension "d122" = 10
  dimension "d123" = 32
extrude "Выдавливание16" add sketch "Эскиз17" along normal blind 12
sketch "Эскиз18" plane through (0, 0, 12.5) normal (0, 0, 1) x (1, 0, 0)
  line L0 (-10, 16) -> (4, 16)
  line L1 (4, 16) -> (4, 2)
  line L2 (4, 2) -> (-10, 2)
  line L3 (-10, 2) -> (-10, 16)
  line L4 (-32, 18) -> (-32, 0) projected
  line L5 (-32, 16) -> (-20, 16)
  line L6 (-20, 16) -> (-20, 2)
  line L7 (-20, 2) -> (-32, 2)
  line L8 (-32, 2) -> (-32, 16)
  line L9 (30, 18) -> (-32, 18) projected
  point P0 (0, 0)
  dimension "d126" = 14
  dimension "d127" = 14
  dimension "d128" = 2
  dimension "d129" = 2
  dimension "d130" = 12
  dimension "d131" = 22
extrude "Выдавливание17" add sketch "Эскиз18" along normal blind 2
sketch "Эскиз19" plane through (0, 0, 12.5) normal (0, 0, 1) x (1, 0, 0)
  line L0 (26, 13) -> (32, 13)
  line L1 (32, 13) -> (32, 5)
  line L2 (32, 5) -> (26, 5)
  line L3 (26, 5) -> (26, 13)
  line L4 (30, 0) -> (30, 18) projected
  line L5 (-32, 0) -> (30, 0) projected
  point P0 (0, 0)
  dimension "d134" = 6
  dimension "d135" = 8
  dimension "d136" = 2
  dimension "d137" = 5
extrude "Выдавливание18" add sketch "Эскиз19" along normal blind 3
sketch "Эскиз20" plane through (0, 0, 0.5) normal (0, 0, 1) x (1, 0, 0)
  line L0 (-34, 44) -> (-8, 44)
  line L1 (-8, 44) -> (-8, 20)
  line L2 (-8, 20) -> (-34, 20)
  line L3 (-34, 20) -> (-34, 44)
  line L4 (40, 50) -> (-40, 50) projected
  line L5 (-40, 50) -> (-40, -12) projected
  point P0 (0, 0)
  dimension "d140" = 26
  dimension "d141" = 24
  dimension "d142" = 6
  dimension "d143" = 6
extrude "Выдавливание19" add sketch "Эскиз20" along normal blind 12
sketch "Эскиз21" plane through (0, 0, 12.5) normal (0, 0, 1) x (1, 0, 0)
  line L0 (-23, 25) -> (-15, 25)
  line L1 (-15, 25) -> (-15, 21)
  line L2 (-15, 21) -> (-23, 21)
  line L3 (-23, 21) -> (-23, 25)
  line L4 (-30, 42) -> (-12, 42)
  line L5 (-12, 42) -> (-12, 26)
  line L6 (-12, 26) -> (-30, 26)
  line L7 (-30, 26) -> (-30, 42)
  line L8 (-8, 20) -> (-8, 44) projected
  line L9 (-8, 44) -> (-34, 44) projected
  line L10 (-34, 20) -> (-8, 20) projected
  point P0 (0, 0)
  dimension "d146" = 18
  dimension "d147" = 4
  dimension "d148" = 2
  dimension "d149" = 16
  dimension "d150" = 8
  dimension "d151" = 4
  dimension "d152" = 7
  dimension "d153" = 1
extrude "Выдавливание20" add sketch "Эскиз21" along normal blind 3
sketch "Эскиз22" plane through (0, 0, 12.5) normal (0, 0, 1) x (1, 0, 0)
  circle A0 centre (-10, 27) radius 1
  line L0 (-8, 20) -> (-8, 44) projected
  line L1 (-34, 20) -> (-8, 20) projected
  point P0 (0, 0)
  dimension "d156" = 2
  dimension "d157" = 2
  dimension "d158" = 7
extrude "Выдавливание21" add sketch "Эскиз22" along normal blind 6
sketch "Эскиз23" plane through (-10, 27, 18.5) normal (0, 0, 1) x (1, 0, 0)
  line L0 (-17.9759, 11.1408) -> (1.9629, 1.8432)
  line L1 (1.9629, 1.8432) -> (-0.1502, -2.6884)
  line L2 (-0.1502, -2.6884) -> (-20.089, 6.6092)
  line L3 (-20.089, 6.6092) -> (-17.9759, 11.1408)
  circle A0 centre (0, 0) radius 1 construction
  line L4 (-24, -7) -> (2, -7) projected
  point P0 (10, -27)
  point P1 (0.9063, -0.4226)
  dimension "d161" = 5
  dimension "d162" = 22
  dimension "d163" = 2.5
  dimension "d164" = 25
extrude "Выдавливание22" add sketch "Эскиз23" along normal blind 4
sketch "Эскиз24" plane through (0, 0, 0.5) normal (0, 0, 1) x (1, 0, 0)
  line L0 (-6, 44) -> (1, 44)
  line L1 (1, 44) -> (1, 37)
  line L2 (1, 37) -> (-6, 37)
  line L3 (-6, 37) -> (-6, 44)
  line L4 (40, 50) -> (-40, 50) projected
  line L5 (-40, 50) -> (-40, -12) projected
  point P0 (0, 0)
  dimension "d167" = 7
  dimension "d168" = 6
  dimension "d169" = 34
extrude "Выдавливание23" add sketch "Эскиз24" along normal blind 5
sketch "Эскиз25" plane through (0, 0, 0.5) normal (0, 0, 1) x (1, 0, 0)
  line L0 (2, 45) -> (38, 45)
  line L1 (38, 45) -> (38, 19)
  line L2 (38, 19) -> (2, 19)
  line L3 (2, 19) -> (2, 45)
  line L4 (40, 50) -> (-40, 50) projected
  line L5 (40, -21) -> (40, 50) projected
  point P0 (0, 0)
  dimension "d172" = 36
  dimension "d173" = 26
  dimension "d174" = 5
  dimension "d175" = 2
extrude "Выдавливание24" add sketch "Эскиз25" along normal blind 3
sketch "Эскиз26" plane through (0, 0, 3.5) normal (0, 0, 1) x (1, 0, 0)
  line L0 (14, 41) -> (26, 41)
  line L1 (26, 41) -> (26, 23)
  line L2 (26, 23) -> (14, 23)
  line L3 (14, 23) -> (14, 41)
  line L4 (38, 45) -> (2, 45) projected
  line L5 (2, 45) -> (2, 19) projected
  point P0 (0, 0)
  dimension "d178" = 12
  dimension "d179" = 18
  dimension "d180" = 4
  dimension "d181" = 12
extrude "Выдавливание25" add sketch "Эскиз26" along normal blind 2
properties part number "БАСУ" material "Пластик АБС"
